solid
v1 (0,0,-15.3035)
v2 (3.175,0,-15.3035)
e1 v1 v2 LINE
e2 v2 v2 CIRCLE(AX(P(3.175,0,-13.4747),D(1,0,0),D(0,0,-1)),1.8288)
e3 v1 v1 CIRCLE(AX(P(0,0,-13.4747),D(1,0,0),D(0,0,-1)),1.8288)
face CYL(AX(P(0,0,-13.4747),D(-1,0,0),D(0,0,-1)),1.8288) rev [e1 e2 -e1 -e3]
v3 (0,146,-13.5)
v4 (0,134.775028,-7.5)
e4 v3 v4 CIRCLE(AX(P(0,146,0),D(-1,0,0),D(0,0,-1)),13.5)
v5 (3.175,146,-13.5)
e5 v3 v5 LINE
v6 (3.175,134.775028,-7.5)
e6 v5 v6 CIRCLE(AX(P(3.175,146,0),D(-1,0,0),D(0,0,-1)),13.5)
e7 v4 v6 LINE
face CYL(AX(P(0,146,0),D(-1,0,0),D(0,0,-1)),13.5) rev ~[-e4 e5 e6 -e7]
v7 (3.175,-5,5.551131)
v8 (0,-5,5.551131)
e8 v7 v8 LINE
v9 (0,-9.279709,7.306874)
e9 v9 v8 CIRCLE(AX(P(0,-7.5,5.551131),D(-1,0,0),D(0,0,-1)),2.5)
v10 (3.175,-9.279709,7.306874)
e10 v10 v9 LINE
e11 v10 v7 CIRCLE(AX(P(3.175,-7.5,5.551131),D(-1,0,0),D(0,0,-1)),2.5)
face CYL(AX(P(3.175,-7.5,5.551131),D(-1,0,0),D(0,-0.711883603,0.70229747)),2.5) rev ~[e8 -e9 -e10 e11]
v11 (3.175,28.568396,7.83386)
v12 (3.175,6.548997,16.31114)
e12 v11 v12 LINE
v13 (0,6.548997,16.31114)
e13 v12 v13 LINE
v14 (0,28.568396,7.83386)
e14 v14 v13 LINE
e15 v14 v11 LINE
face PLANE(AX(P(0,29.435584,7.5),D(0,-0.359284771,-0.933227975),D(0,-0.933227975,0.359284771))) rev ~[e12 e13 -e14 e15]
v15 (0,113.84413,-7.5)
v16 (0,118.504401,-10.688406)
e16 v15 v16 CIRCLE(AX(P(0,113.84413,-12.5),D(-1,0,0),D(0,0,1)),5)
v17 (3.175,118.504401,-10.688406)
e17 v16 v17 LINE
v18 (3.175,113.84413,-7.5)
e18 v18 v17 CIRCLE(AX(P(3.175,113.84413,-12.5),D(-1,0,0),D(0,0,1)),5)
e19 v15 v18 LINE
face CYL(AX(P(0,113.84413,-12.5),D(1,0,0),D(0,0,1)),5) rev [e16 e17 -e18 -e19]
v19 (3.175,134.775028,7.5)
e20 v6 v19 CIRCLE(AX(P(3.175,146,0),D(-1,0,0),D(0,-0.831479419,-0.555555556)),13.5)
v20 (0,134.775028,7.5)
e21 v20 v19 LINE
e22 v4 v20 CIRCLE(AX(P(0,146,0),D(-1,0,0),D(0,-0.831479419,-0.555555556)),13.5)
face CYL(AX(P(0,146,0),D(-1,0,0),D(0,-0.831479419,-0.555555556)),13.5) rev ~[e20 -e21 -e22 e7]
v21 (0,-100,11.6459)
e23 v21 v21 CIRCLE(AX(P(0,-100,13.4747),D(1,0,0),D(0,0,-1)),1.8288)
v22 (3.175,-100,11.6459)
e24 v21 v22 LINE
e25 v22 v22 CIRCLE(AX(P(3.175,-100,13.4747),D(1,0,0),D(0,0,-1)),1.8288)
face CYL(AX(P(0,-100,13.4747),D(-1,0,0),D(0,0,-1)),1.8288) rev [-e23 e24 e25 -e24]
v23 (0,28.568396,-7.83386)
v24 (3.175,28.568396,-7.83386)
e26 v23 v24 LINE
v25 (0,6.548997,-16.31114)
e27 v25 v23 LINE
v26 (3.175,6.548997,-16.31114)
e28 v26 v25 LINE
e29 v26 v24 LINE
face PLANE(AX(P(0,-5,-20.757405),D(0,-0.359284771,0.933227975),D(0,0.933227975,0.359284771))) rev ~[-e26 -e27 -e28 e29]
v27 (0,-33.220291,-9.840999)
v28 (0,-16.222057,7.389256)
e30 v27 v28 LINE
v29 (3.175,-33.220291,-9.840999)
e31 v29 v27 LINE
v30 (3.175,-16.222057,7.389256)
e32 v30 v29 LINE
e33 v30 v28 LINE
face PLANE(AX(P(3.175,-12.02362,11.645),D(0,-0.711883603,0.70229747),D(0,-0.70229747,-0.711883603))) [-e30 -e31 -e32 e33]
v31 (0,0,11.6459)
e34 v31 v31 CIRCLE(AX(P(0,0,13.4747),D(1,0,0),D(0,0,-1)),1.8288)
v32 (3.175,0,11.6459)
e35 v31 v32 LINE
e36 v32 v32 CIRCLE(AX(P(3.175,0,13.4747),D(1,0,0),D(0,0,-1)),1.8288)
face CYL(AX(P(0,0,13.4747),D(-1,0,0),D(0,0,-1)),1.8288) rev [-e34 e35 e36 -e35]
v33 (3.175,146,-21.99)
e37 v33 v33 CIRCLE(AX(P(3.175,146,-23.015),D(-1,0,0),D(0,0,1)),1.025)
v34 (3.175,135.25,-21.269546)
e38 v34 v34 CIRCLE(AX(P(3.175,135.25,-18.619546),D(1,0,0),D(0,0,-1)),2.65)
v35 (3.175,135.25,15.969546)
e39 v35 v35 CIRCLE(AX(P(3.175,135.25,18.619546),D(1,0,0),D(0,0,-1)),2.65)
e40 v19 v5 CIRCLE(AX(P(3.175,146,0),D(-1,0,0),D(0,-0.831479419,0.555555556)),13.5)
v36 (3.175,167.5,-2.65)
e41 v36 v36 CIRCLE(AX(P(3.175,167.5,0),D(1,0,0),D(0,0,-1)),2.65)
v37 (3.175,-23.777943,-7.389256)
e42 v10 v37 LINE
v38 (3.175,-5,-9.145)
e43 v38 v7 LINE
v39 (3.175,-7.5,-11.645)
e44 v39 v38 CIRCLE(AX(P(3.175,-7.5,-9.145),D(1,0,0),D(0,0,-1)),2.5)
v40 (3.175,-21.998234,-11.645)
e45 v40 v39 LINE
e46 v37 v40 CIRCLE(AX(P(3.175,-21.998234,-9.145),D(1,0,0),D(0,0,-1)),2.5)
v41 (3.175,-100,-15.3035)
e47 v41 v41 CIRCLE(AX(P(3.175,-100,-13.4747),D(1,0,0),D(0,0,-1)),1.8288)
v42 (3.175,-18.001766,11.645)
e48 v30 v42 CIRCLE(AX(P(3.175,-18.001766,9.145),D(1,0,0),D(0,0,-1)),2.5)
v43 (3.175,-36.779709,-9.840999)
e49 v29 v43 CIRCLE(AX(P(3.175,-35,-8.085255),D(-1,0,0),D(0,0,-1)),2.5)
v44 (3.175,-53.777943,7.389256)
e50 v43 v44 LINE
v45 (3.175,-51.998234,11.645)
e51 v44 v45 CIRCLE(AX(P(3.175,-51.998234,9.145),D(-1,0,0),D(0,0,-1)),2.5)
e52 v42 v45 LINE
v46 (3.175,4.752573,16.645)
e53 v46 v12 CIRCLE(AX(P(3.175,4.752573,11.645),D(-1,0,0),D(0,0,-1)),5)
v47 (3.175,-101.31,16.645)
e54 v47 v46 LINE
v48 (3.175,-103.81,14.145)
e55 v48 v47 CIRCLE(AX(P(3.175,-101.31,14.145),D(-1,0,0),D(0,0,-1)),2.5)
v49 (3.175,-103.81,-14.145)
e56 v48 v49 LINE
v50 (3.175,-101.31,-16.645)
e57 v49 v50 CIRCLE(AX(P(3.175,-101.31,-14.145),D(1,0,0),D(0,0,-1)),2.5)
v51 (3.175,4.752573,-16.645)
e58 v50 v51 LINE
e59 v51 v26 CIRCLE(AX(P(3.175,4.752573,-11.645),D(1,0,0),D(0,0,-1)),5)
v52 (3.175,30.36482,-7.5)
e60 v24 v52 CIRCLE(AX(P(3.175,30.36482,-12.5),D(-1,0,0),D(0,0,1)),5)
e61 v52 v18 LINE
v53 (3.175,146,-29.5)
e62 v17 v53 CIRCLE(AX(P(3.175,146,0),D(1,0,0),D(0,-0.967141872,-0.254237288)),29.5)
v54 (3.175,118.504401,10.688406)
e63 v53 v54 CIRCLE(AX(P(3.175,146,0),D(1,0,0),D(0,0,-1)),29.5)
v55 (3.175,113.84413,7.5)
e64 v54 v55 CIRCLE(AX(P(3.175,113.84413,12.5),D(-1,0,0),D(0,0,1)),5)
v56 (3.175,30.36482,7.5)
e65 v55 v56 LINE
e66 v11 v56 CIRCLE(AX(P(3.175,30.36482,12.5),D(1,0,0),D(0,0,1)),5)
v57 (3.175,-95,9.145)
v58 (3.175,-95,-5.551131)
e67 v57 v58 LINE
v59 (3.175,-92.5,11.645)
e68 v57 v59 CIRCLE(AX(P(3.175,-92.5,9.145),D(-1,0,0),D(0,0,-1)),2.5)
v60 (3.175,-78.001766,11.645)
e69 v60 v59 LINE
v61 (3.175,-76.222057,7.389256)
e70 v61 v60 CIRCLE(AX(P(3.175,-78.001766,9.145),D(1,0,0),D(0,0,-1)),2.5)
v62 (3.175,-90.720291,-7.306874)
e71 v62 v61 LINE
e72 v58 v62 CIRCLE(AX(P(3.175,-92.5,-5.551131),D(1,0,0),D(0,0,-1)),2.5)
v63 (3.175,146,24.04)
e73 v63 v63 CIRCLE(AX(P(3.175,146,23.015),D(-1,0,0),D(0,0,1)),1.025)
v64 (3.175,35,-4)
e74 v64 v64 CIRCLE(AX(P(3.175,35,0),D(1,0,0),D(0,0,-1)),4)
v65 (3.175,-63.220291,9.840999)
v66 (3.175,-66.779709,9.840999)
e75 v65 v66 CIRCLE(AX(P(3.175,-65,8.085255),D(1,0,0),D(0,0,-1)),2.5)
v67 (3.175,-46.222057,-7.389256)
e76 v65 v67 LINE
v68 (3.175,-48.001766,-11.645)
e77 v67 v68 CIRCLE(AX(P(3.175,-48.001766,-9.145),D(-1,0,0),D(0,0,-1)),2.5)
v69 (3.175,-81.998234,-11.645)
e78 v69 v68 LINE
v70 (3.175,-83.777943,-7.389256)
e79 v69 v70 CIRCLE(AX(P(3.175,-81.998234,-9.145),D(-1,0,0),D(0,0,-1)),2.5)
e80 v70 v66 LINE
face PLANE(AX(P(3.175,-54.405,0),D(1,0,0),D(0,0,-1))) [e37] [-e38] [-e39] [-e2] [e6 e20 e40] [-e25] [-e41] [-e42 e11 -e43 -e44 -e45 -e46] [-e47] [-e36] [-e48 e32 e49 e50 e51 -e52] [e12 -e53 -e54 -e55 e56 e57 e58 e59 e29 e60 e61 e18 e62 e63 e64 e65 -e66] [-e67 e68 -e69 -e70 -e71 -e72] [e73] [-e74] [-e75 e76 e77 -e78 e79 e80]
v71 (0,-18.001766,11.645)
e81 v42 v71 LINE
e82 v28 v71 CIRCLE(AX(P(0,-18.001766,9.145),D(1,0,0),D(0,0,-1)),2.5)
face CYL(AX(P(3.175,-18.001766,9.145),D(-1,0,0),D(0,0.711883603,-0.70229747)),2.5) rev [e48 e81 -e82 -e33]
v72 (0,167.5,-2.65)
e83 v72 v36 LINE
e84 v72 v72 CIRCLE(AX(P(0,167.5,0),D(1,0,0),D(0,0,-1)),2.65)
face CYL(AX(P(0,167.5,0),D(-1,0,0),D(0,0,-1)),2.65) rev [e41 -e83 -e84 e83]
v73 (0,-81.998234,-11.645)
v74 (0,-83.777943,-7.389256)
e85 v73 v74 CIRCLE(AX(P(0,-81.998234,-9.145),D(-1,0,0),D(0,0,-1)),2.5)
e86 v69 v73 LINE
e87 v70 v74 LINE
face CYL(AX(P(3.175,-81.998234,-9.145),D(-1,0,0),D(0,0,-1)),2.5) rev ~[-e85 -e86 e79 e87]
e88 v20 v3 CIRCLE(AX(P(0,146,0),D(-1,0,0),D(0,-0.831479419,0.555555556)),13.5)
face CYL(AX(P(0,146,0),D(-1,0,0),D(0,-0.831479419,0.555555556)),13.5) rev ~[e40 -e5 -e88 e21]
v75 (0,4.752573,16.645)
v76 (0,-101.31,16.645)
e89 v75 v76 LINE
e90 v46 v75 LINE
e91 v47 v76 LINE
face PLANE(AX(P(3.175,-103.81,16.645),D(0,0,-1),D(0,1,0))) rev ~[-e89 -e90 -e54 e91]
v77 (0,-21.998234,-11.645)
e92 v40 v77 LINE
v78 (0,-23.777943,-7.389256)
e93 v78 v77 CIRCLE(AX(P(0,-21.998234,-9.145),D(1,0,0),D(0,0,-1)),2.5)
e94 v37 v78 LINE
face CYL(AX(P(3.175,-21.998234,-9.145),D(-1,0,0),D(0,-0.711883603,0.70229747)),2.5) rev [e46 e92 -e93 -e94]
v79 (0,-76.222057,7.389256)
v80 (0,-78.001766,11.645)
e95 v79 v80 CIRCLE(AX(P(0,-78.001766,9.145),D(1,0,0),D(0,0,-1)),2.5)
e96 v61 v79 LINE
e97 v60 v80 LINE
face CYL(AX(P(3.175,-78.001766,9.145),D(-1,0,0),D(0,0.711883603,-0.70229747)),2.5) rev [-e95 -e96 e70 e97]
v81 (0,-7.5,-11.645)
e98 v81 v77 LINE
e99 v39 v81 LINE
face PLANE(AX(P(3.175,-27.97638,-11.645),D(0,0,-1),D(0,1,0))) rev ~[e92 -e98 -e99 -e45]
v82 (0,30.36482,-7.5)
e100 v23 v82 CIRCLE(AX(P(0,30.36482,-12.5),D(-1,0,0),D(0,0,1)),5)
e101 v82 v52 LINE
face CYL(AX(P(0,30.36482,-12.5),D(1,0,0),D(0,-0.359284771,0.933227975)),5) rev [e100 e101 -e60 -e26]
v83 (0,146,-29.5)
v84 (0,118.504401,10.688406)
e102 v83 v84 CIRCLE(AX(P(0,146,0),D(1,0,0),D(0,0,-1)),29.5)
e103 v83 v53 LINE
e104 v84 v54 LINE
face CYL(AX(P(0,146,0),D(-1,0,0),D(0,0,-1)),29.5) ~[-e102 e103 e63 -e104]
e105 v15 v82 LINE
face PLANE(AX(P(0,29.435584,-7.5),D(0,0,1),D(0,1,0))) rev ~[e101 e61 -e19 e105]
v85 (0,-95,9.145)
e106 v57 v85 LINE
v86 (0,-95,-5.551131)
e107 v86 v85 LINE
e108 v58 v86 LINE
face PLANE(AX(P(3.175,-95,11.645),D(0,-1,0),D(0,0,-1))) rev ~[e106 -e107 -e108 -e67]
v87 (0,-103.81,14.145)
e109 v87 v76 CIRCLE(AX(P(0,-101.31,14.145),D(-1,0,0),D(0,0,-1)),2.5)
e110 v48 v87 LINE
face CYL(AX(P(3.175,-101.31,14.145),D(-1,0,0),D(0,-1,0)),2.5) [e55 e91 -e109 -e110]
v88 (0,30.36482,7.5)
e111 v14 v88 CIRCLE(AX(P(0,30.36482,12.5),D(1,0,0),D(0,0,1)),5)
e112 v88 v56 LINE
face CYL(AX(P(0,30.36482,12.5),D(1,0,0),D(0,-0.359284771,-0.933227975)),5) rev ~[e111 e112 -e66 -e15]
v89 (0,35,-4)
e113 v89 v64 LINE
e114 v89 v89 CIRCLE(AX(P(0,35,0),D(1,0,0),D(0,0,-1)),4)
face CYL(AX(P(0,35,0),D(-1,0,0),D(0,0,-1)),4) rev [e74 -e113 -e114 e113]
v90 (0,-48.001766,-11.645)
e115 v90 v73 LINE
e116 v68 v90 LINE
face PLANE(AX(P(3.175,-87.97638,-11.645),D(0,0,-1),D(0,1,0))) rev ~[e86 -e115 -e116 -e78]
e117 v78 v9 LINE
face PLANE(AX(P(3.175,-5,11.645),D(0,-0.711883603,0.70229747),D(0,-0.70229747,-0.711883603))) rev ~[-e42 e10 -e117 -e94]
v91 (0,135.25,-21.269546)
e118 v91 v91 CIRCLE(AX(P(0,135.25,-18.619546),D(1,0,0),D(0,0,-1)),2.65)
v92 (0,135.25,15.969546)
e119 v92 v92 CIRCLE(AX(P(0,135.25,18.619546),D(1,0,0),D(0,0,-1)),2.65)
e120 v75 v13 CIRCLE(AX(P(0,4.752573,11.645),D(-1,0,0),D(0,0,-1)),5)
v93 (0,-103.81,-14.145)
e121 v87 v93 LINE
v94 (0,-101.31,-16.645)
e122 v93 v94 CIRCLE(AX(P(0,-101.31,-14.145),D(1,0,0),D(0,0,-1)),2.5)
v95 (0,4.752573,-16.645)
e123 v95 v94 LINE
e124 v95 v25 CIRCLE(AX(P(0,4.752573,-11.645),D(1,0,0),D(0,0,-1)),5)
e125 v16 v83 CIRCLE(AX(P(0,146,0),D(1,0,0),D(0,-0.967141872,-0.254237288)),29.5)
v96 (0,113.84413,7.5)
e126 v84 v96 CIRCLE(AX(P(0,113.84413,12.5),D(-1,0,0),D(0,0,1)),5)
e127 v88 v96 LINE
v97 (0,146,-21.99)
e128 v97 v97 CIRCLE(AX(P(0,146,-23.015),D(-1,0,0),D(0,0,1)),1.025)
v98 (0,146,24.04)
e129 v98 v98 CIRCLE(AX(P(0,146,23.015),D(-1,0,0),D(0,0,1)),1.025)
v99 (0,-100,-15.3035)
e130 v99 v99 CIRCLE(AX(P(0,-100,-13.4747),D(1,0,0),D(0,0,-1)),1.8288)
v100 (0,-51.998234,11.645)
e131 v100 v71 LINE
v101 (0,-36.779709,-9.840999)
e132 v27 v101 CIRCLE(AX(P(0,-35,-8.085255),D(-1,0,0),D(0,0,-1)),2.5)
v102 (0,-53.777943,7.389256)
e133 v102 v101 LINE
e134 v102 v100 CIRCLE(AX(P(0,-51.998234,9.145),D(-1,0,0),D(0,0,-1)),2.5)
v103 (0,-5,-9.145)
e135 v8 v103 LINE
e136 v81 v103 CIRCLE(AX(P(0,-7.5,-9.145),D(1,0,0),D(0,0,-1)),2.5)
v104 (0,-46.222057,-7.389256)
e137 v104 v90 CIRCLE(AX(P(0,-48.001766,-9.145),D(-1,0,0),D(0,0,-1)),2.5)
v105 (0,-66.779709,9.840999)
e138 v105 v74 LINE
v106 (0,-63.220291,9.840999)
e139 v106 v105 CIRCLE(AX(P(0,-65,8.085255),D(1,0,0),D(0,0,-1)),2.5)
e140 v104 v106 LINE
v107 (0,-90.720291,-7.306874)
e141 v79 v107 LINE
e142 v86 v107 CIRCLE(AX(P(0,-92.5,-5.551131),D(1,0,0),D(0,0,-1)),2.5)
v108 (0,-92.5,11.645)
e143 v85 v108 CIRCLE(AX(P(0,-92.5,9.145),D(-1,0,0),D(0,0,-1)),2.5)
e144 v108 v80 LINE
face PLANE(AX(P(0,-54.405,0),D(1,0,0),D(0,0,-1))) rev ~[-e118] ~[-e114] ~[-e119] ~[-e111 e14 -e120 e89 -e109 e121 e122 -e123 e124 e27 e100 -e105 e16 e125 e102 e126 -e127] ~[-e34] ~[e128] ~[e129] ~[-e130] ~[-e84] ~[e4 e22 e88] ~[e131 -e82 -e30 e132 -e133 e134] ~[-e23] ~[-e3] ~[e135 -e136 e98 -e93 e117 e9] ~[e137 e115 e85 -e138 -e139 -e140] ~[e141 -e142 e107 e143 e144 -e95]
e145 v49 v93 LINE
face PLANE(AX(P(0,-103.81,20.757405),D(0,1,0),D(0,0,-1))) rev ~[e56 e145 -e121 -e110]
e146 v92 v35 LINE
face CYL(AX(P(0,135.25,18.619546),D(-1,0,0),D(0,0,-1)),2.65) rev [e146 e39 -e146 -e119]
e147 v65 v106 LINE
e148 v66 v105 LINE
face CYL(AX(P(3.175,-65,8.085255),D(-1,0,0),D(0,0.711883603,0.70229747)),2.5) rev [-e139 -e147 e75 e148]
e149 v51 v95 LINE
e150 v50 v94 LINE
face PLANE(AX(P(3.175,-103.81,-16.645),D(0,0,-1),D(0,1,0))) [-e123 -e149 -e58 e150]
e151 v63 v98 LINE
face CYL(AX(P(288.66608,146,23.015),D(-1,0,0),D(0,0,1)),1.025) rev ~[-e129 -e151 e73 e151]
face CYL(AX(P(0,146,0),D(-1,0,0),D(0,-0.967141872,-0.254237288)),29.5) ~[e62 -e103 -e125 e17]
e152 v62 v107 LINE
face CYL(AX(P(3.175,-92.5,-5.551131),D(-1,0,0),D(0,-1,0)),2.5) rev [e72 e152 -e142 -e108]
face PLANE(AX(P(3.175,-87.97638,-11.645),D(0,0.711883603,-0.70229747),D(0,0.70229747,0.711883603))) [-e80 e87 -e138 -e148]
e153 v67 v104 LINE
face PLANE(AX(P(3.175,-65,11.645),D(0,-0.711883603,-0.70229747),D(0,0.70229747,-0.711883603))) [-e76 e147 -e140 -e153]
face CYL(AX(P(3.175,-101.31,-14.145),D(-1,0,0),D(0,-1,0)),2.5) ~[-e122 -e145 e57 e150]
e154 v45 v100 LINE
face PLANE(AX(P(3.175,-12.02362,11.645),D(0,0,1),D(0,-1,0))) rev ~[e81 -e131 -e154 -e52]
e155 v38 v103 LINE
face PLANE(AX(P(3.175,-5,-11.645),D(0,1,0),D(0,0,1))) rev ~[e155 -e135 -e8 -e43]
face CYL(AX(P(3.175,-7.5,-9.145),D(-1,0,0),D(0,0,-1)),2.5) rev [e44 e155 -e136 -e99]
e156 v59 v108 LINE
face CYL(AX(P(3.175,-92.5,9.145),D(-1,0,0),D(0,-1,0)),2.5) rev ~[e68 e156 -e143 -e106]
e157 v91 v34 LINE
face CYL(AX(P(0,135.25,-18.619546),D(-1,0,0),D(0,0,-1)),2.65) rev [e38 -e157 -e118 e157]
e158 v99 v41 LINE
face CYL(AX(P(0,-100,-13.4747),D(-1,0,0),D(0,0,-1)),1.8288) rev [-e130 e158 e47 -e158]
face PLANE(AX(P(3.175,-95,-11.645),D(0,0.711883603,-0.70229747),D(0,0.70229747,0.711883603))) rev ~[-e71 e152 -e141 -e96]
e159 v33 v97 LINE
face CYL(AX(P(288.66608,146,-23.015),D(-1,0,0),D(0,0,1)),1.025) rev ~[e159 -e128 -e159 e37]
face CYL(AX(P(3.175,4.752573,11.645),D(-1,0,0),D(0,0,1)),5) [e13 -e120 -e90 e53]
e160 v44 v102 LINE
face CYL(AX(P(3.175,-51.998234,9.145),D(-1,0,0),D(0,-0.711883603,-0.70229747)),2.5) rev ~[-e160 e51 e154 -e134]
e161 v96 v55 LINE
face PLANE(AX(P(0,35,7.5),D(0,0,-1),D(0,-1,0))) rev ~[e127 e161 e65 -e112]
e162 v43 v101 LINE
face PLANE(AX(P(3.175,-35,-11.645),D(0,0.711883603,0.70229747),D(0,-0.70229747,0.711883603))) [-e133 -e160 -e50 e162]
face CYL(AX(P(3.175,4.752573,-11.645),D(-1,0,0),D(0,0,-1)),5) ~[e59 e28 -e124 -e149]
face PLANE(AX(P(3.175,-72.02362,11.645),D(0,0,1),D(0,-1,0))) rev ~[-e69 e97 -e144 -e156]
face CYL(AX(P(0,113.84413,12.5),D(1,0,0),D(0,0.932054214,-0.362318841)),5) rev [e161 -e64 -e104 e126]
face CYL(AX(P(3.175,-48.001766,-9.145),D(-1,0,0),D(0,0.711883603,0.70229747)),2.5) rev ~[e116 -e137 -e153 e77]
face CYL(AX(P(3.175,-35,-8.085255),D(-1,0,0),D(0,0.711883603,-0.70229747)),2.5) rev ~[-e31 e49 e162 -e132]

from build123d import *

# Parameters (mm, degrees)
SKETCH1_R                = 2.65
SKETCH1_R_2              = 4
SKETCH1_R_3              = 1.8288
SKETCH1_W                = 41.514809608
SKETCH1_H                = 98.81
BOSS_EXTRUDE1_DEPTH      = 3.175
CUT_EXTRUDE1_REACH       = 179.99
SKETCH2_W                = 4.112404804
SKETCH2_H                = 133.245584328
FILLET3_R                = 2.5
FILLET4_R                = 5
M2_5X0_45_TAPPED_HOLE1_D = 2.05


with BuildPart() as part:
    # Sketch1 → Boss-Extrude1 (new body)
    # profile 1 of 8: a face of its own
    with BuildSketch(Plane(origin=(0, 0, 0), x_dir=(0, 0, -1), z_dir=(1, 0, 0))):
        with BuildLine():
            Line((7.5, 134.77502784), (7.5, 117.469314765))
            ThreePointArc((7.5, 117.469314765), (23.361292772, 127.986116465), (29.5, 146))
            ThreePointArc((29.5, 146), (-18.013883535, 169.361292772), (-7.5, 117.469314765))
            Line((-7.5, 117.469314765), (-7.5, 134.77502784))
            ThreePointArc((-7.5, 134.77502784), (-6.363961031, 157.9058809), (13.5, 146))
            ThreePointArc((13.5, 146), (11.9058809, 139.636038969), (7.5, 134.77502784))
        make_face()
        with Locations((-18.619546181, 135.25)):
            Circle(SKETCH1_R, mode=Mode.SUBTRACT)
        with Locations((0, 167.5)):
            Circle(SKETCH1_R, mode=Mode.SUBTRACT)
        with Locations((18.619546181, 135.25)):
            Circle(SKETCH1_R, mode=Mode.SUBTRACT)
    # profile 2 of 8: a face of its own
    with BuildSketch(Plane(origin=(0, 0, 0), x_dir=(0, 0, -1), z_dir=(1, 0, 0))):
        with BuildLine():
            ThreePointArc((-7.5, 117.469314765), (0, 116.5), (7.5, 117.469314765))
            Line((7.5, 117.469314765), (7.5, 134.77502784))
            ThreePointArc((7.5, 134.77502784), (0, 132.5), (-7.5, 134.77502784))
            Line((-7.5, 134.77502784), (-7.5, 117.469314765))
        make_face()
    # profile 3 of 8: a face of its own
    with BuildSketch(Plane(origin=(0, 0, 0), x_dir=(0, 0, -1), z_dir=(1, 0, 0))):
        with BuildLine():
            Line((0, 48.916537522), (6.674602804, 31.57952088))
            ThreePointArc((6.674602804, 31.57952088), (7.290731137, 33.240670729), (7.5, 35))
            Line((7.5, 35), (7.5, 117.469314765))
            ThreePointArc((7.5, 117.469314765), (0, 116.5), (-7.5, 117.469314765))
            Line((-7.5, 117.469314765), (-7.5, 35))
            ThreePointArc((-7.5, 35), (-7.290731137, 33.240670729), (-6.674602804, 31.57952088))
            Line((-6.674602804, 31.57952088), (0, 48.916537522))
        make_face()
    # profile 4 of 8: a face of its own
    with BuildSketch(Plane(origin=(0, 0, 0), x_dir=(0, 0, -1), z_dir=(1, 0, 0))):
        with BuildLine():
            ThreePointArc((-6.674602804, 31.57952088), (0, 27.5), (6.674602804, 31.57952088))
            Line((6.674602804, 31.57952088), (0, 48.916537522))
            Line((0, 48.916537522), (-6.674602804, 31.57952088))
        make_face()
        with Locations((0, 35)):
            Circle(SKETCH1_R_2, mode=Mode.SUBTRACT)
    # profile 5 of 8: a face of its own
    with BuildSketch(Plane(origin=(0, 0, 0), x_dir=(0, 0, -1), z_dir=(1, 0, 0))):
        with BuildLine():
            Line((-20.757404804, -5), (20.757404804, -5))
            Line((20.757404804, -5), (7.5, 29.435584328))
            Line((7.5, 29.435584328), (6.674602804, 31.57952088))
            ThreePointArc((6.674602804, 31.57952088), (0, 27.5), (-6.674602804, 31.57952088))
            Line((-6.674602804, 31.57952088), (-7.5, 29.435584328))
            Line((-7.5, 29.435584328), (-20.757404804, -5))
        make_face()
        with Locations((-13.4747, 0)):
            Circle(SKETCH1_R_3, mode=Mode.SUBTRACT)
        with Locations((13.4747, 0)):
            Circle(SKETCH1_R_3, mode=Mode.SUBTRACT)
    # profile 6 of 8: a face of its own
    with BuildSketch(Plane(origin=(0, 0, 0), x_dir=(0, 0, -1), z_dir=(1, 0, 0))):
        with BuildLine():
            Line((-7.5, 35), (-7.5, 29.435584328))
            Line((-7.5, 29.435584328), (-6.674602804, 31.57952088))
            ThreePointArc((-6.674602804, 31.57952088), (-7.290731137, 33.240670729), (-7.5, 35))
        make_face()
    # profile 7 of 8: a face of its own
    with BuildSketch(Plane(origin=(0, 0, 0), x_dir=(0, 0, -1), z_dir=(1, 0, 0))):
        with BuildLine():
            Line((6.674602804, 31.57952088), (7.5, 29.435584328))
            Line((7.5, 29.435584328), (7.5, 35))
            ThreePointArc((7.5, 35), (7.290731137, 33.240670729), (6.674602804, 31.57952088))
        make_face()
    # profile 8 of 8: a face of its own
    with BuildSketch(Plane(origin=(0, 0, 0), x_dir=(0, 0, -1), z_dir=(1, 0, 0))):
        with Locations((0, -54.405)):
            Rectangle(SKETCH1_W, SKETCH1_H)
        with Locations((13.4747, -100)):
            Circle(SKETCH1_R_3, mode=Mode.SUBTRACT)
        with Locations((-13.4747, -100)):
            Circle(SKETCH1_R_3, mode=Mode.SUBTRACT)
    extrude(amount=BOSS_EXTRUDE1_DEPTH)

    # Sketch2 → Cut-Extrude1 (cut, up to next)
    with BuildSketch(Plane(origin=(3.175, 0, 0), x_dir=(0, 0, -1), z_dir=(1, 0, 0)), mode=Mode.PRIVATE) as cut_extrude1_sk1:
        Polygon((11.645, -5), (-11.645, -5), (11.645, -27.976379872), align=None)
    cut_extrude1_tool1 = extrude(cut_extrude1_sk1.sketch, amount=-CUT_EXTRUDE1_REACH, mode=Mode.PRIVATE) & part.part
    # Sketch2 → Cut-Extrude1 (cut, up to next)
    with BuildSketch(Plane(origin=(3.175, 0, 0), x_dir=(0, 0, -1), z_dir=(1, 0, 0)), mode=Mode.PRIVATE) as cut_extrude1_sk2:
        Polygon((-11.645, -12.023620128), (11.645, -35), (-11.645, -57.976379872), (-11.645, -35), align=None)
    cut_extrude1_tool2 = extrude(cut_extrude1_sk2.sketch, amount=-CUT_EXTRUDE1_REACH, mode=Mode.PRIVATE) & part.part
    # Sketch2 → Cut-Extrude1 (cut, up to next)
    with BuildSketch(Plane(origin=(3.175, 0, 0), x_dir=(0, 0, -1), z_dir=(1, 0, 0)), mode=Mode.PRIVATE) as cut_extrude1_sk3:
        Polygon((-11.645, -72.023620128), (-11.645, -95), (11.645, -95), align=None)
    cut_extrude1_tool3 = extrude(cut_extrude1_sk3.sketch, amount=-CUT_EXTRUDE1_REACH, mode=Mode.PRIVATE) & part.part
    # Sketch2 → Cut-Extrude1 (cut, up to next)
    with BuildSketch(Plane(origin=(3.175, 0, 0), x_dir=(0, 0, -1), z_dir=(1, 0, 0)), mode=Mode.PRIVATE) as cut_extrude1_sk4:
        Polygon((11.645, -42.023620128), (11.645, -65), (11.645, -87.976379872), (-11.645, -65), align=None)
    cut_extrude1_tool4 = extrude(cut_extrude1_sk4.sketch, amount=-CUT_EXTRUDE1_REACH, mode=Mode.PRIVATE) & part.part
    # Sketch2 → Cut-Extrude1 (cut, up to next)
    with BuildSketch(Plane(origin=(3.175, 0, 0), x_dir=(0, 0, -1), z_dir=(1, 0, 0)), mode=Mode.PRIVATE) as cut_extrude1_sk5:
        with Locations((-18.701202402, -37.187207836)):
            Rectangle(SKETCH2_W, SKETCH2_H)
    cut_extrude1_tool5 = extrude(cut_extrude1_sk5.sketch, amount=-CUT_EXTRUDE1_REACH, mode=Mode.PRIVATE) & part.part
    # Sketch2 → Cut-Extrude1 (cut, up to next)
    with BuildSketch(Plane(origin=(3.175, 0, 0), x_dir=(0, 0, -1), z_dir=(1, 0, 0)), mode=Mode.PRIVATE) as cut_extrude1_sk6:
        with Locations((18.701202402, -37.187207836)):
            Rectangle(SKETCH2_W, SKETCH2_H)
    cut_extrude1_tool6 = extrude(cut_extrude1_sk6.sketch, amount=-CUT_EXTRUDE1_REACH, mode=Mode.PRIVATE) & part.part
    add(cut_extrude1_tool1.solids().sort_by_distance((3.175, -12.658793, -3.881667))[0], mode=Mode.SUBTRACT)
    add(cut_extrude1_tool2.solids().sort_by_distance((3.175, -35, 3.881667))[0], mode=Mode.SUBTRACT)
    add(cut_extrude1_tool3.solids().sort_by_distance((3.175, -87.341207, 3.881667))[0], mode=Mode.SUBTRACT)
    add(cut_extrude1_tool4.solids().sort_by_distance((3.175, -65, -3.881667))[0], mode=Mode.SUBTRACT)
    add(cut_extrude1_tool5.solids().sort_by_distance((3.175, -37.187208, 18.701202))[0], mode=Mode.SUBTRACT)
    add(cut_extrude1_tool6.solids().sort_by_distance((3.175, -37.187208, -18.701202))[0], mode=Mode.SUBTRACT)

    # Fillet3
    fillet3_edges = [part.edges().sort_by_distance(p)[0] for p in [
        (1.5875, -72.023620128, 11.645),
        (1.5875, -95, -11.645),
        (1.5875, -95, 11.645),
        (1.5875, -87.976379872, -11.645),
        (1.5875, -65, 11.645),
        (1.5875, -42.023620128, -11.645),
        (1.5875, -27.976379872, -11.645),
        (1.5875, -5, 11.645),
        (1.5875, -5, -11.645),
        (1.5875, -103.81, 16.645),
        (1.5875, -12.023620128, 11.645),
        (1.5875, -35, -11.645),
        (1.5875, -57.976379872, 11.645),
        (1.5875, -103.81, -16.645),
    ]]
    fillet(fillet3_edges, radius=FILLET3_R)

    # Fillet4
    fillet4_edges = [part.edges().sort_by_distance(p)[0] for p in [
        (1.5875, 117.469314765, -7.5),
        (1.5875, 29.435584328, -7.5),
        (1.5875, 29.435584328, 7.5),
        (1.5875, 117.469314765, 7.5),
        (1.5875, 5.681808734, 16.645),
        (1.5875, 5.681808734, -16.645),
    ]]
    fillet(fillet4_edges, radius=FILLET4_R)

    # M2.5x0.45 Tapped Hole1 (through all)
    with Locations(Plane(origin=(3.175, 0, 0), x_dir=(0, 0, -1), z_dir=(1, 0, 0))):
        with Locations((23.015, 146), (-23.015, 146)):
            Hole(M2_5X0_45_TAPPED_HOLE1_D / 2)


solid = part.part
